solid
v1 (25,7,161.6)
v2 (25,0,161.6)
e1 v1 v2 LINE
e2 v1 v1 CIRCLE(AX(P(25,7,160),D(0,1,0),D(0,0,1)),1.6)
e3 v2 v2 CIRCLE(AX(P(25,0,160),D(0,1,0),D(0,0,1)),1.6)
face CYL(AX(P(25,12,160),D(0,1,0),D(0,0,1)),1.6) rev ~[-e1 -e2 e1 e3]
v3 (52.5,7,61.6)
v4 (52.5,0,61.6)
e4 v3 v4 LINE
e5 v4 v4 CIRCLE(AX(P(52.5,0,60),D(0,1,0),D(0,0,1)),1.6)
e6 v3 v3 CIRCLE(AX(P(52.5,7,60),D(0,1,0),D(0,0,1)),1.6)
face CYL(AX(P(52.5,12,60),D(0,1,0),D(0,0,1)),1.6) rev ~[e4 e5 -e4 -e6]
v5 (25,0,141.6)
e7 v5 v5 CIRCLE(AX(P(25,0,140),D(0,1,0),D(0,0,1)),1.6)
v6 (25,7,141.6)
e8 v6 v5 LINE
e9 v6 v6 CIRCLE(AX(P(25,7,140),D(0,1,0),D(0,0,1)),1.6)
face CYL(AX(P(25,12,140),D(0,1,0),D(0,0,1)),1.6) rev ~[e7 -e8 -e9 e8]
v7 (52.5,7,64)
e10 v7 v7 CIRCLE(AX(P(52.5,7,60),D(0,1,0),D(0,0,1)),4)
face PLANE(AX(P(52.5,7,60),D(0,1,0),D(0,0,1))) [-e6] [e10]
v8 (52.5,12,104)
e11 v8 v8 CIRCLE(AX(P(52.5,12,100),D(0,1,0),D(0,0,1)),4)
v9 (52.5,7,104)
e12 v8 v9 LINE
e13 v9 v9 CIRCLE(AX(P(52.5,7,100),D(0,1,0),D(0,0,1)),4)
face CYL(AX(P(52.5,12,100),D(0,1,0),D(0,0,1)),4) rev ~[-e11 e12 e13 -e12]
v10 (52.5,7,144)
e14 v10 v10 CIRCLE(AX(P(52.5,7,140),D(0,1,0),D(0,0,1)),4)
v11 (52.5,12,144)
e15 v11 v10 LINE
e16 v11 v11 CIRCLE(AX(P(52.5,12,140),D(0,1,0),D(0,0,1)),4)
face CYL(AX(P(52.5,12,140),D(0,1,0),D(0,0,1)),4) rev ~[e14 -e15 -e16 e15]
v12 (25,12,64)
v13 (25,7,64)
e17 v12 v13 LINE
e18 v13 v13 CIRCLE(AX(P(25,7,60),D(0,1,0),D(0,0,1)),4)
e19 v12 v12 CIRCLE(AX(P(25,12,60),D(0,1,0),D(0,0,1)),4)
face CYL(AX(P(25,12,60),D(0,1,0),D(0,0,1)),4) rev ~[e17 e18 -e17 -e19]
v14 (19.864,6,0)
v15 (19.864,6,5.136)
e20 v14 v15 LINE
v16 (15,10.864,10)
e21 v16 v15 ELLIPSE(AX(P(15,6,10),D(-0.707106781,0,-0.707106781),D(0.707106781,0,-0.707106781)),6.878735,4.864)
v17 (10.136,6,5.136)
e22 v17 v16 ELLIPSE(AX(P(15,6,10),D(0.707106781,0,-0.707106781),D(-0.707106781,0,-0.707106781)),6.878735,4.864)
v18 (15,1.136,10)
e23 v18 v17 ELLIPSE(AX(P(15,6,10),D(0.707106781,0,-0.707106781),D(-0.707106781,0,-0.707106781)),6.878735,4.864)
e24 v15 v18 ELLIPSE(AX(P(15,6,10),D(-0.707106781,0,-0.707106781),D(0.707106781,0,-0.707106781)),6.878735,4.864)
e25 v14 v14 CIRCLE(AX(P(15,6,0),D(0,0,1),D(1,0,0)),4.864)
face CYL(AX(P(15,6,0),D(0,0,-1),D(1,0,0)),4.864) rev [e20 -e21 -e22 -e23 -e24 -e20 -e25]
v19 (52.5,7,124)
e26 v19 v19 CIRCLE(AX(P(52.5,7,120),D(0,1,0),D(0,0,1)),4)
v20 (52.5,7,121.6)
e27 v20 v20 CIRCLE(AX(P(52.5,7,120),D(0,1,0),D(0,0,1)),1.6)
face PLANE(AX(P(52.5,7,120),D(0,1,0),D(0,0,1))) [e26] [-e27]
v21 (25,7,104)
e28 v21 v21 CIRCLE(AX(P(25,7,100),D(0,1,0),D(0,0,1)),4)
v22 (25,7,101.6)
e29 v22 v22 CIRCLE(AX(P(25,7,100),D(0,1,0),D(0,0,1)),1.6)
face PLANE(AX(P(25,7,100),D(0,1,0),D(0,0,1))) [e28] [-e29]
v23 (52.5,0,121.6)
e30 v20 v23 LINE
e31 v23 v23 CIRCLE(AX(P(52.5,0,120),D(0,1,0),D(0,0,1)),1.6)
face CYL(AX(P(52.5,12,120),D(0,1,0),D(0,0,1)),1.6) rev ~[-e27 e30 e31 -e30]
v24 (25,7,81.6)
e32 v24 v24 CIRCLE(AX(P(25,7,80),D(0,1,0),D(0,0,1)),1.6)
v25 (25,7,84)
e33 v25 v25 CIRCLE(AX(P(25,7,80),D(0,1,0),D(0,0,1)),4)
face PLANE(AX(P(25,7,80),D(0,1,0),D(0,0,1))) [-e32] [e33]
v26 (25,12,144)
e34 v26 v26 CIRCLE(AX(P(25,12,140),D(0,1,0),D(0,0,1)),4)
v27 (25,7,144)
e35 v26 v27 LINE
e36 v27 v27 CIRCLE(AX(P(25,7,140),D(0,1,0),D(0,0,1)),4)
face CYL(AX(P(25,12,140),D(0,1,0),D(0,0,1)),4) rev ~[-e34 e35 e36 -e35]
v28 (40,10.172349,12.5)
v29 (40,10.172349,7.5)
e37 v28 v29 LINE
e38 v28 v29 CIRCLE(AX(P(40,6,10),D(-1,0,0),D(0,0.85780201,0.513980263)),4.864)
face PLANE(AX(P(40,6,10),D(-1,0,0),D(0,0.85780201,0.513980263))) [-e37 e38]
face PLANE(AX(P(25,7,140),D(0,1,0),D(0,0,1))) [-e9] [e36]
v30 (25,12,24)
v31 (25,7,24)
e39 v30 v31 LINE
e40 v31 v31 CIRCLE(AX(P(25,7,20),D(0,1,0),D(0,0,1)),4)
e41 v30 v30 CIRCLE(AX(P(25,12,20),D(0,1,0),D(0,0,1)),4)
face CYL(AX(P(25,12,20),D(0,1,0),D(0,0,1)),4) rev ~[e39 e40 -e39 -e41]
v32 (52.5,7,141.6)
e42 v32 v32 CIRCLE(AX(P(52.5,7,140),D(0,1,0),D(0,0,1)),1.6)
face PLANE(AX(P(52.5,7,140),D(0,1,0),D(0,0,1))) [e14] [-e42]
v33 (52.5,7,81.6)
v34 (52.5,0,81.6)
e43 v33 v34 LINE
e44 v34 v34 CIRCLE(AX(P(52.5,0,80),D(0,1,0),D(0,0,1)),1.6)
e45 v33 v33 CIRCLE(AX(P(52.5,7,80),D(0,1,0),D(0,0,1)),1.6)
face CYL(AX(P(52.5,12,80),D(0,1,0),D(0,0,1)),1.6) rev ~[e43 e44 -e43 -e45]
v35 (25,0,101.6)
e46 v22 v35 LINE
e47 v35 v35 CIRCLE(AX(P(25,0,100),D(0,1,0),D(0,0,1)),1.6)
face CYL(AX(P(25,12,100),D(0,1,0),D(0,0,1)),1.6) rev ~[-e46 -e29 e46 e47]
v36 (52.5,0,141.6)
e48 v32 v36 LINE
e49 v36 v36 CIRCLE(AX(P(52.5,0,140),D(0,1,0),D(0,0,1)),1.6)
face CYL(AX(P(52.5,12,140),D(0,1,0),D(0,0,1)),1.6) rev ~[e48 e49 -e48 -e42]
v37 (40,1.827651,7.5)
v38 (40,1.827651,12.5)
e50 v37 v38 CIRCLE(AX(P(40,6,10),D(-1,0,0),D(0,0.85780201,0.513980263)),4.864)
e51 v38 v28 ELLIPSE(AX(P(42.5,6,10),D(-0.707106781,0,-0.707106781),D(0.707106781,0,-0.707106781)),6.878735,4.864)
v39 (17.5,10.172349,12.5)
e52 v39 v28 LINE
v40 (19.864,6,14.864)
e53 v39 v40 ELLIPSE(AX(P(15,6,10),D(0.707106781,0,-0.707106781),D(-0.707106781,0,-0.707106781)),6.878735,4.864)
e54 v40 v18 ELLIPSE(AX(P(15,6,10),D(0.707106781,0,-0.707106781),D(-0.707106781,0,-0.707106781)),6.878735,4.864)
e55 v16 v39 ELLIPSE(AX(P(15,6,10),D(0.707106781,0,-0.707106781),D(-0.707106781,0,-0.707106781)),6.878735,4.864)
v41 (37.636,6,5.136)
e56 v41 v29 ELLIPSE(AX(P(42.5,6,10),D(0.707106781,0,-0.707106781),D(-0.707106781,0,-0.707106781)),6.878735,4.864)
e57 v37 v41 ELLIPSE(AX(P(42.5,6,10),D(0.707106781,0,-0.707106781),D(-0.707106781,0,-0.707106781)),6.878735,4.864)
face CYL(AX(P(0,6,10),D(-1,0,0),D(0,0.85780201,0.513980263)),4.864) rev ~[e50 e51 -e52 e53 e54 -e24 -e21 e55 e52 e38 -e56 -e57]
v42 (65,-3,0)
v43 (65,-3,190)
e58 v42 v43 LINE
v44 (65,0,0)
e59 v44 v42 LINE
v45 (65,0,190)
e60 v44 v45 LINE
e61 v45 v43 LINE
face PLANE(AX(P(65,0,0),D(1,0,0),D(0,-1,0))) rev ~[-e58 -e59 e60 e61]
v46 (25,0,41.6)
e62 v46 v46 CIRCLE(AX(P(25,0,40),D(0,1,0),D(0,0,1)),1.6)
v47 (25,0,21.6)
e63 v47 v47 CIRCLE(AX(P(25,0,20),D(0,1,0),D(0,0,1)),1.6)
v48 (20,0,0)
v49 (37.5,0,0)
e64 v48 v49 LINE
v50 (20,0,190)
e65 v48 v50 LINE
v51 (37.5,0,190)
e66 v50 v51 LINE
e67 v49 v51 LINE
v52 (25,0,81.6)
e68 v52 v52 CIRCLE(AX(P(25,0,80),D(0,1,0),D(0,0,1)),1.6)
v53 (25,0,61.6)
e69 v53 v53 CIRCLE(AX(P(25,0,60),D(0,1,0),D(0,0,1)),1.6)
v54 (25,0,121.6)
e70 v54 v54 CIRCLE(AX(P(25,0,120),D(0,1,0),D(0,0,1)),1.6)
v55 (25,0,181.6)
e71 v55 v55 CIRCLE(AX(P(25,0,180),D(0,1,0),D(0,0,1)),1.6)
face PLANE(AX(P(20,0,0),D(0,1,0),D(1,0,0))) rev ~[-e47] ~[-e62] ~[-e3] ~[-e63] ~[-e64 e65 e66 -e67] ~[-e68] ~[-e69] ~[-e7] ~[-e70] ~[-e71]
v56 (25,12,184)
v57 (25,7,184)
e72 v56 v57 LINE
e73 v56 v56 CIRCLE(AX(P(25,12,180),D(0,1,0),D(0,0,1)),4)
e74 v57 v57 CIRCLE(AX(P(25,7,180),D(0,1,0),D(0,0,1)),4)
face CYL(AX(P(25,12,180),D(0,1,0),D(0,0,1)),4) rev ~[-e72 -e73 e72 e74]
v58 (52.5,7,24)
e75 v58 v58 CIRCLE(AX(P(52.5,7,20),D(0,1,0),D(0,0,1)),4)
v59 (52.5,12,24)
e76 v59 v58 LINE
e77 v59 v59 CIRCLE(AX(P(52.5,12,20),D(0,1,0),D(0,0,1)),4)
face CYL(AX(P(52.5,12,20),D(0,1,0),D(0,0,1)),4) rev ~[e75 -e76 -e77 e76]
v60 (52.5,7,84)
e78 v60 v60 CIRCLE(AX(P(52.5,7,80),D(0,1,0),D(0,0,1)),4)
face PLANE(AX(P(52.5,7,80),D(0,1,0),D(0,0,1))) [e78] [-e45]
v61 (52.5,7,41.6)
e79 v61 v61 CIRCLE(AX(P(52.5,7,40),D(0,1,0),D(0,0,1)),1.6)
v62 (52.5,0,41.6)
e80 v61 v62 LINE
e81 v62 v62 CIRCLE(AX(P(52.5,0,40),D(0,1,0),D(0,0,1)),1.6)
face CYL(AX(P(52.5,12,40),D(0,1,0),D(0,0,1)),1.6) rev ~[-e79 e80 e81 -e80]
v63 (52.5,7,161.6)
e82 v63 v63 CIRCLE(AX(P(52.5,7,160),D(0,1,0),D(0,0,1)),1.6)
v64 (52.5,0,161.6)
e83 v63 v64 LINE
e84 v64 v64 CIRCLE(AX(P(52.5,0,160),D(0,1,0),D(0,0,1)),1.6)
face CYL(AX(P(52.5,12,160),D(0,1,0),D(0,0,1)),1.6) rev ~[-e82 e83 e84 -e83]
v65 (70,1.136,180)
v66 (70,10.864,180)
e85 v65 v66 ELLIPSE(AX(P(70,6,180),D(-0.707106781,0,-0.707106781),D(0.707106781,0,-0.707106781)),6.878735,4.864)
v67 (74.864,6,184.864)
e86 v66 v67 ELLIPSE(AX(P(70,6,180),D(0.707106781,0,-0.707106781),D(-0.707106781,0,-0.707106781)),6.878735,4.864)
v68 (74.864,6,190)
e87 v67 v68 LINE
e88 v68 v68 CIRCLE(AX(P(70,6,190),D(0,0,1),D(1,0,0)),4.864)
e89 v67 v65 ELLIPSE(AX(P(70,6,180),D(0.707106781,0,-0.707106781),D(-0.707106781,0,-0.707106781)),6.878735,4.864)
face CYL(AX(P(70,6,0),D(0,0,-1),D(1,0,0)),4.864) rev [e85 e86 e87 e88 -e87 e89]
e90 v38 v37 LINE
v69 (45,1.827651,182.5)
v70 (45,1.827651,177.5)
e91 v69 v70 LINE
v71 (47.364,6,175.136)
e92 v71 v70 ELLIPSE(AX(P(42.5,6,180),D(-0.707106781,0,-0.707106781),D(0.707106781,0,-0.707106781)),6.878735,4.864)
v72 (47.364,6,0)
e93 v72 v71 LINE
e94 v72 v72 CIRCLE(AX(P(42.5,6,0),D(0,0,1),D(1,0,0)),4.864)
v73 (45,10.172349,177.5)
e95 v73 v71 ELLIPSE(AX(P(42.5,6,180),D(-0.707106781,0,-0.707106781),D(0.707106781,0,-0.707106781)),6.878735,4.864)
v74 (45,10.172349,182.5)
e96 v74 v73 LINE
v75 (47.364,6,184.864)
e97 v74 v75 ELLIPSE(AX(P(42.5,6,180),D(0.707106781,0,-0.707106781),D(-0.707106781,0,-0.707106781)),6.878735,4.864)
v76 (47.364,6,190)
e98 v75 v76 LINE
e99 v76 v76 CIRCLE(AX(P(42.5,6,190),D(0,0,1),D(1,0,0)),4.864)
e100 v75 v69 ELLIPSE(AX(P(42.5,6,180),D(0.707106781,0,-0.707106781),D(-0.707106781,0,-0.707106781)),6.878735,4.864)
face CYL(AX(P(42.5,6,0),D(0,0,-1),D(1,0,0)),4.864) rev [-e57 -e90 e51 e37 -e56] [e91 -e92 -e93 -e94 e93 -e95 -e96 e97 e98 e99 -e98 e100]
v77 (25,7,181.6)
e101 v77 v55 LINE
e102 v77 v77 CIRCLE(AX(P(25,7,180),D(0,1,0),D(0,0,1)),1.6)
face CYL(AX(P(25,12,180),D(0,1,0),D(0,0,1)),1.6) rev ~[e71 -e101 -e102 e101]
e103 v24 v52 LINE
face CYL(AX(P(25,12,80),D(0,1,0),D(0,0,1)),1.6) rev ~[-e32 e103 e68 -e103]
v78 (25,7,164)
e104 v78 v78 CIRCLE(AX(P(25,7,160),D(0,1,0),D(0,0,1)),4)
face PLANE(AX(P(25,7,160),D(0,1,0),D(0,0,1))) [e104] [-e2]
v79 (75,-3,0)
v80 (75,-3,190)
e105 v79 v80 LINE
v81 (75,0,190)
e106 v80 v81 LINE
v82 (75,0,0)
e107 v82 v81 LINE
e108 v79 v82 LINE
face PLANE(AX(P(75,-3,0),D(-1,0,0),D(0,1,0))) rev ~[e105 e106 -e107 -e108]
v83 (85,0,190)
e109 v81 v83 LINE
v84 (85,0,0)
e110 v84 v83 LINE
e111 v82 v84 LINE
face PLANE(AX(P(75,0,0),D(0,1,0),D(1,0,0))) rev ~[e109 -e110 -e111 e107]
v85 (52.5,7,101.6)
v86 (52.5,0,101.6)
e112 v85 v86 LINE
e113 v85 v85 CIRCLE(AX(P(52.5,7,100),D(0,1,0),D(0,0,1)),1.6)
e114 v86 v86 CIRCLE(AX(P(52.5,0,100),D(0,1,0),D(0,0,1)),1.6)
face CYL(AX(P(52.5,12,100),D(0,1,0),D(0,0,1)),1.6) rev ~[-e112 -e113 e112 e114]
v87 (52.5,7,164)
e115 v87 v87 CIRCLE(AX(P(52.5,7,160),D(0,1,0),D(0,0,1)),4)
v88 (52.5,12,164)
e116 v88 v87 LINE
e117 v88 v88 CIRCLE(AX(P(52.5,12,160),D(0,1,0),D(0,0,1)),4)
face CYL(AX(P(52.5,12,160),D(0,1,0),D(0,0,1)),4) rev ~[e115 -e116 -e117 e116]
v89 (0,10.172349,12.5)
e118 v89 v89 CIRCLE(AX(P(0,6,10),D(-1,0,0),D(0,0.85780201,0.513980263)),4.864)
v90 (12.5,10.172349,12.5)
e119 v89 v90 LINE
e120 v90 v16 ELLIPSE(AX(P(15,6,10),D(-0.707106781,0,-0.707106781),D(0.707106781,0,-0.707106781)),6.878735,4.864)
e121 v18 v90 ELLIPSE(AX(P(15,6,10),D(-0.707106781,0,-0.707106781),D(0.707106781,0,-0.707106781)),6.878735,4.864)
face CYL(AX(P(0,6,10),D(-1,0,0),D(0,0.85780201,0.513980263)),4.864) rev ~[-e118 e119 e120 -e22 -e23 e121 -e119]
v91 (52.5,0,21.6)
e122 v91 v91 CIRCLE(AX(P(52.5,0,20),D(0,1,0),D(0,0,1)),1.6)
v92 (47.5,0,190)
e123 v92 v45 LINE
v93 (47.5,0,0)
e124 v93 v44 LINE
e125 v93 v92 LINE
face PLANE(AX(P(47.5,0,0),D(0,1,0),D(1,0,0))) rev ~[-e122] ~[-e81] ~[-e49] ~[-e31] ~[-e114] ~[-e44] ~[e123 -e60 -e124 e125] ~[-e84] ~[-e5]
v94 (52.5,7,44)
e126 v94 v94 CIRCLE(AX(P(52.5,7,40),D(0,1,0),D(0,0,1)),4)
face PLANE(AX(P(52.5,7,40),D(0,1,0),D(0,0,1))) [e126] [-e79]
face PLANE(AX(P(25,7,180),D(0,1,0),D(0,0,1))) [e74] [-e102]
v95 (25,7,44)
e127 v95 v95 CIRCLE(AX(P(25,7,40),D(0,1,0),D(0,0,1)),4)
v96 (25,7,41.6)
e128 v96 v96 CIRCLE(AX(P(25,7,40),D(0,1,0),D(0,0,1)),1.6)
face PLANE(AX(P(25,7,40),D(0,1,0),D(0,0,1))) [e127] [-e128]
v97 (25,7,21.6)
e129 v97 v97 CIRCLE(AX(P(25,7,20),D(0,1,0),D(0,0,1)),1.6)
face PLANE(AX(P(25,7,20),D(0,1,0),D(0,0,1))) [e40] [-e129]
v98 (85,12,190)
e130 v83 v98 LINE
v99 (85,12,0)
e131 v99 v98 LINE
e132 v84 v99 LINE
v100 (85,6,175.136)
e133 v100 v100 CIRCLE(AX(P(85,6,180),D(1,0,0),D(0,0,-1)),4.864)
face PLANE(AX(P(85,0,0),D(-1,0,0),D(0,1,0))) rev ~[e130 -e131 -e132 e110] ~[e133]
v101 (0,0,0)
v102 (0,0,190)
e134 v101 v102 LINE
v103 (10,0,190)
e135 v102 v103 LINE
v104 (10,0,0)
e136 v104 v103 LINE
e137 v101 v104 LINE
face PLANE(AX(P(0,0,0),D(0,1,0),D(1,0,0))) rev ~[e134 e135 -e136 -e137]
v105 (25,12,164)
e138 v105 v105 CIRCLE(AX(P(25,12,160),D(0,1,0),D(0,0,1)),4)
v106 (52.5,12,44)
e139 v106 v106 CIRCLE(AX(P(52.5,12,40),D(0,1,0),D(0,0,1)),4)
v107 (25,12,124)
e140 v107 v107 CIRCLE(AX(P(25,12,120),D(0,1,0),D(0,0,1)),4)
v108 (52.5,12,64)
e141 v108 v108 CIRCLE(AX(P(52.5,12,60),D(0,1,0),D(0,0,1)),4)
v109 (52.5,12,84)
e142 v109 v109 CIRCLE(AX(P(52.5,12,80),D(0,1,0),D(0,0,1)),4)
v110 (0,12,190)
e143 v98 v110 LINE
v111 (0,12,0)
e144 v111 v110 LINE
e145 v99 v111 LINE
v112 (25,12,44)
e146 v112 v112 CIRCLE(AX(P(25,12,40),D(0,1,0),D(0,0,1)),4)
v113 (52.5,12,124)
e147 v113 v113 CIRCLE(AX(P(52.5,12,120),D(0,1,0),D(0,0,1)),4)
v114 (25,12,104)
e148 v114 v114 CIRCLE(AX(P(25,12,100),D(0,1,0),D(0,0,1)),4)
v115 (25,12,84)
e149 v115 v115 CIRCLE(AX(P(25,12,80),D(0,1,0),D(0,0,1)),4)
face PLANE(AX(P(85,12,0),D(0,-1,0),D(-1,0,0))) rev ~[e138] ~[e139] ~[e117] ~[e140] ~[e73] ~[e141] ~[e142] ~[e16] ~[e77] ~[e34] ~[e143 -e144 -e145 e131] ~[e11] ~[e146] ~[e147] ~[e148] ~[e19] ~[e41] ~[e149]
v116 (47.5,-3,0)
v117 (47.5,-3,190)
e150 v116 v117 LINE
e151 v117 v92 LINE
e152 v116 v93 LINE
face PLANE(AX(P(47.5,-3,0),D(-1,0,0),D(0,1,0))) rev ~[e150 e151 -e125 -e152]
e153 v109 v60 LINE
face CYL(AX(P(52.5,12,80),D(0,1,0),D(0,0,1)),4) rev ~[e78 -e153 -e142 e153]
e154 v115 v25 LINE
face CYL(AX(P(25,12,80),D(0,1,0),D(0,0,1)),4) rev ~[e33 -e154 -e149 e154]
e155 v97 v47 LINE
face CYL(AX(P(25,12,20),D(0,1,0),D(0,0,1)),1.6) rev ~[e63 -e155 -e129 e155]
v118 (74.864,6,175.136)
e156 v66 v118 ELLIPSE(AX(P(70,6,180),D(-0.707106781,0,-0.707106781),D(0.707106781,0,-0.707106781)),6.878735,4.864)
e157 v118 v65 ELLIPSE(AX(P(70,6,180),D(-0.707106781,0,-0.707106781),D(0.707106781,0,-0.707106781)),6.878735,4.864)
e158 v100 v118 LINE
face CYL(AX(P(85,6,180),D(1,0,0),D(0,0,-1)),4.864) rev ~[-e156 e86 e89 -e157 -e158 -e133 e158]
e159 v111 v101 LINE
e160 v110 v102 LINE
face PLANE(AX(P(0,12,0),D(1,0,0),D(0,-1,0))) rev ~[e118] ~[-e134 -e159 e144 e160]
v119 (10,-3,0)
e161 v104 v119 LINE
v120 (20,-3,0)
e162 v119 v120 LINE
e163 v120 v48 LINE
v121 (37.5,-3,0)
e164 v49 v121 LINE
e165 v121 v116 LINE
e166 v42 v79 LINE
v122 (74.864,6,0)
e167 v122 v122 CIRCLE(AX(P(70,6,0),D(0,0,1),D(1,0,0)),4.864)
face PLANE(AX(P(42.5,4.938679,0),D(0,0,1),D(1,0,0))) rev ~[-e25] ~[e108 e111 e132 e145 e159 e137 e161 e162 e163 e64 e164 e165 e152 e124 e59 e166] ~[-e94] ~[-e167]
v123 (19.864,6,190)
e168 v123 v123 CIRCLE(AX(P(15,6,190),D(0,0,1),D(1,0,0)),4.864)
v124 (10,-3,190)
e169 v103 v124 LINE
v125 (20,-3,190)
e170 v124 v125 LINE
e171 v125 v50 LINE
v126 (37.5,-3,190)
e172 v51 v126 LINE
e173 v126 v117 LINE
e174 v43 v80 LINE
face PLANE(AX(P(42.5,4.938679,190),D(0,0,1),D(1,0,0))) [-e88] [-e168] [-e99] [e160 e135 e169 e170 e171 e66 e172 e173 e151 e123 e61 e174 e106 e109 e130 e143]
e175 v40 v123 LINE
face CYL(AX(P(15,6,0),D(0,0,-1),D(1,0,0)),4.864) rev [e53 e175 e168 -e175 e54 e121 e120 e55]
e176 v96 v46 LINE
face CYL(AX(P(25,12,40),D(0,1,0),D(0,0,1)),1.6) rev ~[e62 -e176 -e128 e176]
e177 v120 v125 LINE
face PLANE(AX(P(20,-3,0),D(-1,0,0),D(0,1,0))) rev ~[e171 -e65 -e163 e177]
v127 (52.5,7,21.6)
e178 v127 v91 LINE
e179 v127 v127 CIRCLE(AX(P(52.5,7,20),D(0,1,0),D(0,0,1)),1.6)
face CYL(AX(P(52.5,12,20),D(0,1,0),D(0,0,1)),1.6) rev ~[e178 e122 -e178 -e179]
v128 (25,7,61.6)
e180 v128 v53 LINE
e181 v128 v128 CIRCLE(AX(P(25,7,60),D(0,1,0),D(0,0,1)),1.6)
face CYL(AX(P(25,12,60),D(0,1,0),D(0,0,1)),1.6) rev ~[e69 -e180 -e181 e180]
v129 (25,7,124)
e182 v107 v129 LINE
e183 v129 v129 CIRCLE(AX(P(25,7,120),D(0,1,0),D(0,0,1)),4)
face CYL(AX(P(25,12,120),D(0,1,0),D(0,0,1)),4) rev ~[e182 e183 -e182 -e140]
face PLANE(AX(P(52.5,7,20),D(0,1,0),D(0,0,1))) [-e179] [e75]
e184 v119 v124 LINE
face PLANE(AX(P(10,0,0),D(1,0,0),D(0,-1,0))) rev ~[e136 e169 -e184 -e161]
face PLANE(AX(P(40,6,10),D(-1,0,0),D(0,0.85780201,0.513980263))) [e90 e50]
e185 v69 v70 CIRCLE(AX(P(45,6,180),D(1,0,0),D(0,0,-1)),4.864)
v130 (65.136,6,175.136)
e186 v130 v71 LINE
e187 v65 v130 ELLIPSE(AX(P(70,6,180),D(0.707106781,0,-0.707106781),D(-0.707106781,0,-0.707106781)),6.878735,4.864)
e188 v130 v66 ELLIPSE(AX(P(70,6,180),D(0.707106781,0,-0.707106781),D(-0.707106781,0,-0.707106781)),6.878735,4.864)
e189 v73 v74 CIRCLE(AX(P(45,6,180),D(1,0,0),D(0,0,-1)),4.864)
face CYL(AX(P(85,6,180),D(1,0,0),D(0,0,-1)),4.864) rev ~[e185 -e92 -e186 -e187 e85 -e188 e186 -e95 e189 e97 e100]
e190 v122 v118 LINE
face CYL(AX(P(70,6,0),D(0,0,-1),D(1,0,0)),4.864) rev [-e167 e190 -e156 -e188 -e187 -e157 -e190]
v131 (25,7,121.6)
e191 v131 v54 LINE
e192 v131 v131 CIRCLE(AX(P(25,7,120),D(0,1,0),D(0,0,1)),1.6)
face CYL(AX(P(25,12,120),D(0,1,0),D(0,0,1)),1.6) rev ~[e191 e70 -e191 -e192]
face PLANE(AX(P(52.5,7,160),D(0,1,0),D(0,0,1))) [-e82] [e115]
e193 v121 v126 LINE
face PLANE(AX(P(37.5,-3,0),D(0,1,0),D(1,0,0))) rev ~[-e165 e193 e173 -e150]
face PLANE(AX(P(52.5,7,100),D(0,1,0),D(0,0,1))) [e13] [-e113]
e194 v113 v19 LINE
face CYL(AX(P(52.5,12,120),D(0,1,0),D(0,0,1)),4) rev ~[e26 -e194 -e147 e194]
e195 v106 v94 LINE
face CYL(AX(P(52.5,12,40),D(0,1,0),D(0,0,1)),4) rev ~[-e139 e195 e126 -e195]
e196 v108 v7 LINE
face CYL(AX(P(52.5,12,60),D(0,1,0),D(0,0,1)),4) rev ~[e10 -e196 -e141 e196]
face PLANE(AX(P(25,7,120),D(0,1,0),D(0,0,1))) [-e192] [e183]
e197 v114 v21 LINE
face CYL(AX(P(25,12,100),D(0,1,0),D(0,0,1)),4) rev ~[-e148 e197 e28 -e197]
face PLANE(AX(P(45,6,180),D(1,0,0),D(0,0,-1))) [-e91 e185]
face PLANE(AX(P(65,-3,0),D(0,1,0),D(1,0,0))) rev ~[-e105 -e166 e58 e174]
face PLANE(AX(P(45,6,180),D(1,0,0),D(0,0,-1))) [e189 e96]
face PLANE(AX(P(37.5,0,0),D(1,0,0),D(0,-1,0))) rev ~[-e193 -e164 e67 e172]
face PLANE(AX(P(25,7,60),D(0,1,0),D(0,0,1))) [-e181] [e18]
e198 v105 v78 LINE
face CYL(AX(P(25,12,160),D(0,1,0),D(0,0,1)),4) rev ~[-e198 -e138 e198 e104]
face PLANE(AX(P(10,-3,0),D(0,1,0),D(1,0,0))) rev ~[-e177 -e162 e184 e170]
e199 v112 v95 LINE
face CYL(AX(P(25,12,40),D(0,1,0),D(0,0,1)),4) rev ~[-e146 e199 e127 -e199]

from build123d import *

# Parameters (mm, degrees)
SKETCH1_R           = 4.864
BOSS_EXTRUDE1_DEPTH = 190
SKETCH2_R           = 4.864
CUT_EXTRUDE1_DEPTH  = 40
SKETCH5_R           = 4.864
CUT_EXTRUDE3_DEPTH  = 40
SKETCH6_R           = 1.6
CUT_EXTRUDE4_DEPTH  = 209.686367547
SKETCH7_R           = 4
CUT_EXTRUDE5_DEPTH  = 5


with BuildPart() as part:
    # Sketch1 → Boss-Extrude1 (new body)
    with BuildSketch(Plane.XY):
        Polygon((37.5, 0), (37.5, -3), (47.5, -3), (47.5, 0), (65, 0), (65, -3), (75, -3), (75, 0), (85, 0), (85, 12), (0, 12), (0, 0), (10, 0), (10, -3), (20, -3), (20, 0), align=None)
        with Locations((15, 6)):
            Circle(SKETCH1_R, mode=Mode.SUBTRACT)
        with Locations((42.5, 6)):
            Circle(SKETCH1_R, mode=Mode.SUBTRACT)
        with Locations((70, 6)):
            Circle(SKETCH1_R, mode=Mode.SUBTRACT)
    extrude(amount=BOSS_EXTRUDE1_DEPTH)

    # Sketch2 → Cut-Extrude1 (cut)
    with BuildSketch(Plane(origin=(85, 0, 0), x_dir=(0, 0, -1), z_dir=(1, 0, 0))):
        with Locations((-180, 6)):
            Circle(SKETCH2_R)
    extrude(amount=-CUT_EXTRUDE1_DEPTH, mode=Mode.SUBTRACT)

    # Sketch5 → Cut-Extrude3 (cut)
    with BuildSketch(Plane.ZY):
        with Locations(Location((10, 6, 0), (0, 0, 59.070681313))):
            Circle(SKETCH5_R)
    extrude(amount=-CUT_EXTRUDE3_DEPTH, mode=Mode.SUBTRACT)

    # Sketch6 → Cut-Extrude4 (cut, through all)
    with BuildSketch(Plane(origin=(0, 12, 0), x_dir=(1, 0, 0), z_dir=(0, 1, 0))):
        with Locations(Location((25, -180, 0), (0, 0, 270))):
            Circle(SKETCH6_R)
        with Locations(Location((52.5, -160, 0), (0, 0, 270))):
            Circle(SKETCH6_R)
        with Locations(Location((52.5, -140, 0), (0, 0, 270))):
            Circle(SKETCH6_R)
        with Locations(Location((52.5, -120, 0), (0, 0, 270))):
            Circle(SKETCH6_R)
        with Locations(Location((52.5, -100, 0), (0, 0, 270))):
            Circle(SKETCH6_R)
        with Locations(Location((52.5, -80, 0), (0, 0, 270))):
            Circle(SKETCH6_R)
        with Locations(Location((52.5, -60, 0), (0, 0, 270))):
            Circle(SKETCH6_R)
        with Locations(Location((52.5, -40, 0), (0, 0, 270))):
            Circle(SKETCH6_R)
        with Locations(Location((52.5, -20, 0), (0, 0, 270))):
            Circle(SKETCH6_R)
        with Locations(Location((25, -160, 0), (0, 0, 270))):
            Circle(SKETCH6_R)
        with Locations(Location((25, -140, 0), (0, 0, 270))):
            Circle(SKETCH6_R)
        with Locations(Location((25, -120, 0), (0, 0, 270))):
            Circle(SKETCH6_R)
        with Locations(Location((25, -100, 0), (0, 0, 270))):
            Circle(SKETCH6_R)
        with Locations(Location((25, -80, 0), (0, 0, 270))):
            Circle(SKETCH6_R)
        with Locations(Location((25, -60, 0), (0, 0, 270))):
            Circle(SKETCH6_R)
        with Locations(Location((25, -40, 0), (0, 0, 270))):
            Circle(SKETCH6_R)
        with Locations(Location((25, -20, 0), (0, 0, 270))):
            Circle(SKETCH6_R)
    extrude(amount=-CUT_EXTRUDE4_DEPTH, mode=Mode.SUBTRACT)

    # Sketch7 → Cut-Extrude5 (cut)
    with BuildSketch(Plane(origin=(0, 12, 0), x_dir=(1, 0, 0), z_dir=(0, 1, 0))):
        with Locations(Location((25, -180, 0), (0, 0, 270))):
            Circle(SKETCH7_R)
        with Locations(Location((52.5, -160, 0), (0, 0, 270))):
            Circle(SKETCH7_R)
        with Locations(Location((52.5, -140, 0), (0, 0, 270))):
            Circle(SKETCH7_R)
        with Locations(Location((52.5, -120, 0), (0, 0, 270))):
            Circle(SKETCH7_R)
        with Locations(Location((52.5, -100, 0), (0, 0, 270))):
            Circle(SKETCH7_R)
        with Locations(Location((52.5, -80, 0), (0, 0, 270))):
            Circle(SKETCH7_R)
        with Locations(Location((52.5, -60, 0), (0, 0, 270))):
            Circle(SKETCH7_R)
        with Locations(Location((52.5, -40, 0), (0, 0, 270))):
            Circle(SKETCH7_R)
        with Locations(Location((52.5, -20, 0), (0, 0, 270))):
            Circle(SKETCH7_R)
        with Locations(Location((25, -160, 0), (0, 0, 270))):
            Circle(SKETCH7_R)
        with Locations(Location((25, -140, 0), (0, 0, 270))):
            Circle(SKETCH7_R)
        with Locations(Location((25, -120, 0), (0, 0, 270))):
            Circle(SKETCH7_R)
        with Locations(Location((25, -100, 0), (0, 0, 270))):
            Circle(SKETCH7_R)
        with Locations(Location((25, -80, 0), (0, 0, 270))):
            Circle(SKETCH7_R)
        with Locations(Location((25, -60, 0), (0, 0, 270))):
            Circle(SKETCH7_R)
        with Locations(Location((25, -40, 0), (0, 0, 270))):
            Circle(SKETCH7_R)
        with Locations(Location((25, -20, 0), (0, 0, 270))):
            Circle(SKETCH7_R)
    extrude(amount=-CUT_EXTRUDE5_DEPTH, mode=Mode.SUBTRACT)


solid = part.part
